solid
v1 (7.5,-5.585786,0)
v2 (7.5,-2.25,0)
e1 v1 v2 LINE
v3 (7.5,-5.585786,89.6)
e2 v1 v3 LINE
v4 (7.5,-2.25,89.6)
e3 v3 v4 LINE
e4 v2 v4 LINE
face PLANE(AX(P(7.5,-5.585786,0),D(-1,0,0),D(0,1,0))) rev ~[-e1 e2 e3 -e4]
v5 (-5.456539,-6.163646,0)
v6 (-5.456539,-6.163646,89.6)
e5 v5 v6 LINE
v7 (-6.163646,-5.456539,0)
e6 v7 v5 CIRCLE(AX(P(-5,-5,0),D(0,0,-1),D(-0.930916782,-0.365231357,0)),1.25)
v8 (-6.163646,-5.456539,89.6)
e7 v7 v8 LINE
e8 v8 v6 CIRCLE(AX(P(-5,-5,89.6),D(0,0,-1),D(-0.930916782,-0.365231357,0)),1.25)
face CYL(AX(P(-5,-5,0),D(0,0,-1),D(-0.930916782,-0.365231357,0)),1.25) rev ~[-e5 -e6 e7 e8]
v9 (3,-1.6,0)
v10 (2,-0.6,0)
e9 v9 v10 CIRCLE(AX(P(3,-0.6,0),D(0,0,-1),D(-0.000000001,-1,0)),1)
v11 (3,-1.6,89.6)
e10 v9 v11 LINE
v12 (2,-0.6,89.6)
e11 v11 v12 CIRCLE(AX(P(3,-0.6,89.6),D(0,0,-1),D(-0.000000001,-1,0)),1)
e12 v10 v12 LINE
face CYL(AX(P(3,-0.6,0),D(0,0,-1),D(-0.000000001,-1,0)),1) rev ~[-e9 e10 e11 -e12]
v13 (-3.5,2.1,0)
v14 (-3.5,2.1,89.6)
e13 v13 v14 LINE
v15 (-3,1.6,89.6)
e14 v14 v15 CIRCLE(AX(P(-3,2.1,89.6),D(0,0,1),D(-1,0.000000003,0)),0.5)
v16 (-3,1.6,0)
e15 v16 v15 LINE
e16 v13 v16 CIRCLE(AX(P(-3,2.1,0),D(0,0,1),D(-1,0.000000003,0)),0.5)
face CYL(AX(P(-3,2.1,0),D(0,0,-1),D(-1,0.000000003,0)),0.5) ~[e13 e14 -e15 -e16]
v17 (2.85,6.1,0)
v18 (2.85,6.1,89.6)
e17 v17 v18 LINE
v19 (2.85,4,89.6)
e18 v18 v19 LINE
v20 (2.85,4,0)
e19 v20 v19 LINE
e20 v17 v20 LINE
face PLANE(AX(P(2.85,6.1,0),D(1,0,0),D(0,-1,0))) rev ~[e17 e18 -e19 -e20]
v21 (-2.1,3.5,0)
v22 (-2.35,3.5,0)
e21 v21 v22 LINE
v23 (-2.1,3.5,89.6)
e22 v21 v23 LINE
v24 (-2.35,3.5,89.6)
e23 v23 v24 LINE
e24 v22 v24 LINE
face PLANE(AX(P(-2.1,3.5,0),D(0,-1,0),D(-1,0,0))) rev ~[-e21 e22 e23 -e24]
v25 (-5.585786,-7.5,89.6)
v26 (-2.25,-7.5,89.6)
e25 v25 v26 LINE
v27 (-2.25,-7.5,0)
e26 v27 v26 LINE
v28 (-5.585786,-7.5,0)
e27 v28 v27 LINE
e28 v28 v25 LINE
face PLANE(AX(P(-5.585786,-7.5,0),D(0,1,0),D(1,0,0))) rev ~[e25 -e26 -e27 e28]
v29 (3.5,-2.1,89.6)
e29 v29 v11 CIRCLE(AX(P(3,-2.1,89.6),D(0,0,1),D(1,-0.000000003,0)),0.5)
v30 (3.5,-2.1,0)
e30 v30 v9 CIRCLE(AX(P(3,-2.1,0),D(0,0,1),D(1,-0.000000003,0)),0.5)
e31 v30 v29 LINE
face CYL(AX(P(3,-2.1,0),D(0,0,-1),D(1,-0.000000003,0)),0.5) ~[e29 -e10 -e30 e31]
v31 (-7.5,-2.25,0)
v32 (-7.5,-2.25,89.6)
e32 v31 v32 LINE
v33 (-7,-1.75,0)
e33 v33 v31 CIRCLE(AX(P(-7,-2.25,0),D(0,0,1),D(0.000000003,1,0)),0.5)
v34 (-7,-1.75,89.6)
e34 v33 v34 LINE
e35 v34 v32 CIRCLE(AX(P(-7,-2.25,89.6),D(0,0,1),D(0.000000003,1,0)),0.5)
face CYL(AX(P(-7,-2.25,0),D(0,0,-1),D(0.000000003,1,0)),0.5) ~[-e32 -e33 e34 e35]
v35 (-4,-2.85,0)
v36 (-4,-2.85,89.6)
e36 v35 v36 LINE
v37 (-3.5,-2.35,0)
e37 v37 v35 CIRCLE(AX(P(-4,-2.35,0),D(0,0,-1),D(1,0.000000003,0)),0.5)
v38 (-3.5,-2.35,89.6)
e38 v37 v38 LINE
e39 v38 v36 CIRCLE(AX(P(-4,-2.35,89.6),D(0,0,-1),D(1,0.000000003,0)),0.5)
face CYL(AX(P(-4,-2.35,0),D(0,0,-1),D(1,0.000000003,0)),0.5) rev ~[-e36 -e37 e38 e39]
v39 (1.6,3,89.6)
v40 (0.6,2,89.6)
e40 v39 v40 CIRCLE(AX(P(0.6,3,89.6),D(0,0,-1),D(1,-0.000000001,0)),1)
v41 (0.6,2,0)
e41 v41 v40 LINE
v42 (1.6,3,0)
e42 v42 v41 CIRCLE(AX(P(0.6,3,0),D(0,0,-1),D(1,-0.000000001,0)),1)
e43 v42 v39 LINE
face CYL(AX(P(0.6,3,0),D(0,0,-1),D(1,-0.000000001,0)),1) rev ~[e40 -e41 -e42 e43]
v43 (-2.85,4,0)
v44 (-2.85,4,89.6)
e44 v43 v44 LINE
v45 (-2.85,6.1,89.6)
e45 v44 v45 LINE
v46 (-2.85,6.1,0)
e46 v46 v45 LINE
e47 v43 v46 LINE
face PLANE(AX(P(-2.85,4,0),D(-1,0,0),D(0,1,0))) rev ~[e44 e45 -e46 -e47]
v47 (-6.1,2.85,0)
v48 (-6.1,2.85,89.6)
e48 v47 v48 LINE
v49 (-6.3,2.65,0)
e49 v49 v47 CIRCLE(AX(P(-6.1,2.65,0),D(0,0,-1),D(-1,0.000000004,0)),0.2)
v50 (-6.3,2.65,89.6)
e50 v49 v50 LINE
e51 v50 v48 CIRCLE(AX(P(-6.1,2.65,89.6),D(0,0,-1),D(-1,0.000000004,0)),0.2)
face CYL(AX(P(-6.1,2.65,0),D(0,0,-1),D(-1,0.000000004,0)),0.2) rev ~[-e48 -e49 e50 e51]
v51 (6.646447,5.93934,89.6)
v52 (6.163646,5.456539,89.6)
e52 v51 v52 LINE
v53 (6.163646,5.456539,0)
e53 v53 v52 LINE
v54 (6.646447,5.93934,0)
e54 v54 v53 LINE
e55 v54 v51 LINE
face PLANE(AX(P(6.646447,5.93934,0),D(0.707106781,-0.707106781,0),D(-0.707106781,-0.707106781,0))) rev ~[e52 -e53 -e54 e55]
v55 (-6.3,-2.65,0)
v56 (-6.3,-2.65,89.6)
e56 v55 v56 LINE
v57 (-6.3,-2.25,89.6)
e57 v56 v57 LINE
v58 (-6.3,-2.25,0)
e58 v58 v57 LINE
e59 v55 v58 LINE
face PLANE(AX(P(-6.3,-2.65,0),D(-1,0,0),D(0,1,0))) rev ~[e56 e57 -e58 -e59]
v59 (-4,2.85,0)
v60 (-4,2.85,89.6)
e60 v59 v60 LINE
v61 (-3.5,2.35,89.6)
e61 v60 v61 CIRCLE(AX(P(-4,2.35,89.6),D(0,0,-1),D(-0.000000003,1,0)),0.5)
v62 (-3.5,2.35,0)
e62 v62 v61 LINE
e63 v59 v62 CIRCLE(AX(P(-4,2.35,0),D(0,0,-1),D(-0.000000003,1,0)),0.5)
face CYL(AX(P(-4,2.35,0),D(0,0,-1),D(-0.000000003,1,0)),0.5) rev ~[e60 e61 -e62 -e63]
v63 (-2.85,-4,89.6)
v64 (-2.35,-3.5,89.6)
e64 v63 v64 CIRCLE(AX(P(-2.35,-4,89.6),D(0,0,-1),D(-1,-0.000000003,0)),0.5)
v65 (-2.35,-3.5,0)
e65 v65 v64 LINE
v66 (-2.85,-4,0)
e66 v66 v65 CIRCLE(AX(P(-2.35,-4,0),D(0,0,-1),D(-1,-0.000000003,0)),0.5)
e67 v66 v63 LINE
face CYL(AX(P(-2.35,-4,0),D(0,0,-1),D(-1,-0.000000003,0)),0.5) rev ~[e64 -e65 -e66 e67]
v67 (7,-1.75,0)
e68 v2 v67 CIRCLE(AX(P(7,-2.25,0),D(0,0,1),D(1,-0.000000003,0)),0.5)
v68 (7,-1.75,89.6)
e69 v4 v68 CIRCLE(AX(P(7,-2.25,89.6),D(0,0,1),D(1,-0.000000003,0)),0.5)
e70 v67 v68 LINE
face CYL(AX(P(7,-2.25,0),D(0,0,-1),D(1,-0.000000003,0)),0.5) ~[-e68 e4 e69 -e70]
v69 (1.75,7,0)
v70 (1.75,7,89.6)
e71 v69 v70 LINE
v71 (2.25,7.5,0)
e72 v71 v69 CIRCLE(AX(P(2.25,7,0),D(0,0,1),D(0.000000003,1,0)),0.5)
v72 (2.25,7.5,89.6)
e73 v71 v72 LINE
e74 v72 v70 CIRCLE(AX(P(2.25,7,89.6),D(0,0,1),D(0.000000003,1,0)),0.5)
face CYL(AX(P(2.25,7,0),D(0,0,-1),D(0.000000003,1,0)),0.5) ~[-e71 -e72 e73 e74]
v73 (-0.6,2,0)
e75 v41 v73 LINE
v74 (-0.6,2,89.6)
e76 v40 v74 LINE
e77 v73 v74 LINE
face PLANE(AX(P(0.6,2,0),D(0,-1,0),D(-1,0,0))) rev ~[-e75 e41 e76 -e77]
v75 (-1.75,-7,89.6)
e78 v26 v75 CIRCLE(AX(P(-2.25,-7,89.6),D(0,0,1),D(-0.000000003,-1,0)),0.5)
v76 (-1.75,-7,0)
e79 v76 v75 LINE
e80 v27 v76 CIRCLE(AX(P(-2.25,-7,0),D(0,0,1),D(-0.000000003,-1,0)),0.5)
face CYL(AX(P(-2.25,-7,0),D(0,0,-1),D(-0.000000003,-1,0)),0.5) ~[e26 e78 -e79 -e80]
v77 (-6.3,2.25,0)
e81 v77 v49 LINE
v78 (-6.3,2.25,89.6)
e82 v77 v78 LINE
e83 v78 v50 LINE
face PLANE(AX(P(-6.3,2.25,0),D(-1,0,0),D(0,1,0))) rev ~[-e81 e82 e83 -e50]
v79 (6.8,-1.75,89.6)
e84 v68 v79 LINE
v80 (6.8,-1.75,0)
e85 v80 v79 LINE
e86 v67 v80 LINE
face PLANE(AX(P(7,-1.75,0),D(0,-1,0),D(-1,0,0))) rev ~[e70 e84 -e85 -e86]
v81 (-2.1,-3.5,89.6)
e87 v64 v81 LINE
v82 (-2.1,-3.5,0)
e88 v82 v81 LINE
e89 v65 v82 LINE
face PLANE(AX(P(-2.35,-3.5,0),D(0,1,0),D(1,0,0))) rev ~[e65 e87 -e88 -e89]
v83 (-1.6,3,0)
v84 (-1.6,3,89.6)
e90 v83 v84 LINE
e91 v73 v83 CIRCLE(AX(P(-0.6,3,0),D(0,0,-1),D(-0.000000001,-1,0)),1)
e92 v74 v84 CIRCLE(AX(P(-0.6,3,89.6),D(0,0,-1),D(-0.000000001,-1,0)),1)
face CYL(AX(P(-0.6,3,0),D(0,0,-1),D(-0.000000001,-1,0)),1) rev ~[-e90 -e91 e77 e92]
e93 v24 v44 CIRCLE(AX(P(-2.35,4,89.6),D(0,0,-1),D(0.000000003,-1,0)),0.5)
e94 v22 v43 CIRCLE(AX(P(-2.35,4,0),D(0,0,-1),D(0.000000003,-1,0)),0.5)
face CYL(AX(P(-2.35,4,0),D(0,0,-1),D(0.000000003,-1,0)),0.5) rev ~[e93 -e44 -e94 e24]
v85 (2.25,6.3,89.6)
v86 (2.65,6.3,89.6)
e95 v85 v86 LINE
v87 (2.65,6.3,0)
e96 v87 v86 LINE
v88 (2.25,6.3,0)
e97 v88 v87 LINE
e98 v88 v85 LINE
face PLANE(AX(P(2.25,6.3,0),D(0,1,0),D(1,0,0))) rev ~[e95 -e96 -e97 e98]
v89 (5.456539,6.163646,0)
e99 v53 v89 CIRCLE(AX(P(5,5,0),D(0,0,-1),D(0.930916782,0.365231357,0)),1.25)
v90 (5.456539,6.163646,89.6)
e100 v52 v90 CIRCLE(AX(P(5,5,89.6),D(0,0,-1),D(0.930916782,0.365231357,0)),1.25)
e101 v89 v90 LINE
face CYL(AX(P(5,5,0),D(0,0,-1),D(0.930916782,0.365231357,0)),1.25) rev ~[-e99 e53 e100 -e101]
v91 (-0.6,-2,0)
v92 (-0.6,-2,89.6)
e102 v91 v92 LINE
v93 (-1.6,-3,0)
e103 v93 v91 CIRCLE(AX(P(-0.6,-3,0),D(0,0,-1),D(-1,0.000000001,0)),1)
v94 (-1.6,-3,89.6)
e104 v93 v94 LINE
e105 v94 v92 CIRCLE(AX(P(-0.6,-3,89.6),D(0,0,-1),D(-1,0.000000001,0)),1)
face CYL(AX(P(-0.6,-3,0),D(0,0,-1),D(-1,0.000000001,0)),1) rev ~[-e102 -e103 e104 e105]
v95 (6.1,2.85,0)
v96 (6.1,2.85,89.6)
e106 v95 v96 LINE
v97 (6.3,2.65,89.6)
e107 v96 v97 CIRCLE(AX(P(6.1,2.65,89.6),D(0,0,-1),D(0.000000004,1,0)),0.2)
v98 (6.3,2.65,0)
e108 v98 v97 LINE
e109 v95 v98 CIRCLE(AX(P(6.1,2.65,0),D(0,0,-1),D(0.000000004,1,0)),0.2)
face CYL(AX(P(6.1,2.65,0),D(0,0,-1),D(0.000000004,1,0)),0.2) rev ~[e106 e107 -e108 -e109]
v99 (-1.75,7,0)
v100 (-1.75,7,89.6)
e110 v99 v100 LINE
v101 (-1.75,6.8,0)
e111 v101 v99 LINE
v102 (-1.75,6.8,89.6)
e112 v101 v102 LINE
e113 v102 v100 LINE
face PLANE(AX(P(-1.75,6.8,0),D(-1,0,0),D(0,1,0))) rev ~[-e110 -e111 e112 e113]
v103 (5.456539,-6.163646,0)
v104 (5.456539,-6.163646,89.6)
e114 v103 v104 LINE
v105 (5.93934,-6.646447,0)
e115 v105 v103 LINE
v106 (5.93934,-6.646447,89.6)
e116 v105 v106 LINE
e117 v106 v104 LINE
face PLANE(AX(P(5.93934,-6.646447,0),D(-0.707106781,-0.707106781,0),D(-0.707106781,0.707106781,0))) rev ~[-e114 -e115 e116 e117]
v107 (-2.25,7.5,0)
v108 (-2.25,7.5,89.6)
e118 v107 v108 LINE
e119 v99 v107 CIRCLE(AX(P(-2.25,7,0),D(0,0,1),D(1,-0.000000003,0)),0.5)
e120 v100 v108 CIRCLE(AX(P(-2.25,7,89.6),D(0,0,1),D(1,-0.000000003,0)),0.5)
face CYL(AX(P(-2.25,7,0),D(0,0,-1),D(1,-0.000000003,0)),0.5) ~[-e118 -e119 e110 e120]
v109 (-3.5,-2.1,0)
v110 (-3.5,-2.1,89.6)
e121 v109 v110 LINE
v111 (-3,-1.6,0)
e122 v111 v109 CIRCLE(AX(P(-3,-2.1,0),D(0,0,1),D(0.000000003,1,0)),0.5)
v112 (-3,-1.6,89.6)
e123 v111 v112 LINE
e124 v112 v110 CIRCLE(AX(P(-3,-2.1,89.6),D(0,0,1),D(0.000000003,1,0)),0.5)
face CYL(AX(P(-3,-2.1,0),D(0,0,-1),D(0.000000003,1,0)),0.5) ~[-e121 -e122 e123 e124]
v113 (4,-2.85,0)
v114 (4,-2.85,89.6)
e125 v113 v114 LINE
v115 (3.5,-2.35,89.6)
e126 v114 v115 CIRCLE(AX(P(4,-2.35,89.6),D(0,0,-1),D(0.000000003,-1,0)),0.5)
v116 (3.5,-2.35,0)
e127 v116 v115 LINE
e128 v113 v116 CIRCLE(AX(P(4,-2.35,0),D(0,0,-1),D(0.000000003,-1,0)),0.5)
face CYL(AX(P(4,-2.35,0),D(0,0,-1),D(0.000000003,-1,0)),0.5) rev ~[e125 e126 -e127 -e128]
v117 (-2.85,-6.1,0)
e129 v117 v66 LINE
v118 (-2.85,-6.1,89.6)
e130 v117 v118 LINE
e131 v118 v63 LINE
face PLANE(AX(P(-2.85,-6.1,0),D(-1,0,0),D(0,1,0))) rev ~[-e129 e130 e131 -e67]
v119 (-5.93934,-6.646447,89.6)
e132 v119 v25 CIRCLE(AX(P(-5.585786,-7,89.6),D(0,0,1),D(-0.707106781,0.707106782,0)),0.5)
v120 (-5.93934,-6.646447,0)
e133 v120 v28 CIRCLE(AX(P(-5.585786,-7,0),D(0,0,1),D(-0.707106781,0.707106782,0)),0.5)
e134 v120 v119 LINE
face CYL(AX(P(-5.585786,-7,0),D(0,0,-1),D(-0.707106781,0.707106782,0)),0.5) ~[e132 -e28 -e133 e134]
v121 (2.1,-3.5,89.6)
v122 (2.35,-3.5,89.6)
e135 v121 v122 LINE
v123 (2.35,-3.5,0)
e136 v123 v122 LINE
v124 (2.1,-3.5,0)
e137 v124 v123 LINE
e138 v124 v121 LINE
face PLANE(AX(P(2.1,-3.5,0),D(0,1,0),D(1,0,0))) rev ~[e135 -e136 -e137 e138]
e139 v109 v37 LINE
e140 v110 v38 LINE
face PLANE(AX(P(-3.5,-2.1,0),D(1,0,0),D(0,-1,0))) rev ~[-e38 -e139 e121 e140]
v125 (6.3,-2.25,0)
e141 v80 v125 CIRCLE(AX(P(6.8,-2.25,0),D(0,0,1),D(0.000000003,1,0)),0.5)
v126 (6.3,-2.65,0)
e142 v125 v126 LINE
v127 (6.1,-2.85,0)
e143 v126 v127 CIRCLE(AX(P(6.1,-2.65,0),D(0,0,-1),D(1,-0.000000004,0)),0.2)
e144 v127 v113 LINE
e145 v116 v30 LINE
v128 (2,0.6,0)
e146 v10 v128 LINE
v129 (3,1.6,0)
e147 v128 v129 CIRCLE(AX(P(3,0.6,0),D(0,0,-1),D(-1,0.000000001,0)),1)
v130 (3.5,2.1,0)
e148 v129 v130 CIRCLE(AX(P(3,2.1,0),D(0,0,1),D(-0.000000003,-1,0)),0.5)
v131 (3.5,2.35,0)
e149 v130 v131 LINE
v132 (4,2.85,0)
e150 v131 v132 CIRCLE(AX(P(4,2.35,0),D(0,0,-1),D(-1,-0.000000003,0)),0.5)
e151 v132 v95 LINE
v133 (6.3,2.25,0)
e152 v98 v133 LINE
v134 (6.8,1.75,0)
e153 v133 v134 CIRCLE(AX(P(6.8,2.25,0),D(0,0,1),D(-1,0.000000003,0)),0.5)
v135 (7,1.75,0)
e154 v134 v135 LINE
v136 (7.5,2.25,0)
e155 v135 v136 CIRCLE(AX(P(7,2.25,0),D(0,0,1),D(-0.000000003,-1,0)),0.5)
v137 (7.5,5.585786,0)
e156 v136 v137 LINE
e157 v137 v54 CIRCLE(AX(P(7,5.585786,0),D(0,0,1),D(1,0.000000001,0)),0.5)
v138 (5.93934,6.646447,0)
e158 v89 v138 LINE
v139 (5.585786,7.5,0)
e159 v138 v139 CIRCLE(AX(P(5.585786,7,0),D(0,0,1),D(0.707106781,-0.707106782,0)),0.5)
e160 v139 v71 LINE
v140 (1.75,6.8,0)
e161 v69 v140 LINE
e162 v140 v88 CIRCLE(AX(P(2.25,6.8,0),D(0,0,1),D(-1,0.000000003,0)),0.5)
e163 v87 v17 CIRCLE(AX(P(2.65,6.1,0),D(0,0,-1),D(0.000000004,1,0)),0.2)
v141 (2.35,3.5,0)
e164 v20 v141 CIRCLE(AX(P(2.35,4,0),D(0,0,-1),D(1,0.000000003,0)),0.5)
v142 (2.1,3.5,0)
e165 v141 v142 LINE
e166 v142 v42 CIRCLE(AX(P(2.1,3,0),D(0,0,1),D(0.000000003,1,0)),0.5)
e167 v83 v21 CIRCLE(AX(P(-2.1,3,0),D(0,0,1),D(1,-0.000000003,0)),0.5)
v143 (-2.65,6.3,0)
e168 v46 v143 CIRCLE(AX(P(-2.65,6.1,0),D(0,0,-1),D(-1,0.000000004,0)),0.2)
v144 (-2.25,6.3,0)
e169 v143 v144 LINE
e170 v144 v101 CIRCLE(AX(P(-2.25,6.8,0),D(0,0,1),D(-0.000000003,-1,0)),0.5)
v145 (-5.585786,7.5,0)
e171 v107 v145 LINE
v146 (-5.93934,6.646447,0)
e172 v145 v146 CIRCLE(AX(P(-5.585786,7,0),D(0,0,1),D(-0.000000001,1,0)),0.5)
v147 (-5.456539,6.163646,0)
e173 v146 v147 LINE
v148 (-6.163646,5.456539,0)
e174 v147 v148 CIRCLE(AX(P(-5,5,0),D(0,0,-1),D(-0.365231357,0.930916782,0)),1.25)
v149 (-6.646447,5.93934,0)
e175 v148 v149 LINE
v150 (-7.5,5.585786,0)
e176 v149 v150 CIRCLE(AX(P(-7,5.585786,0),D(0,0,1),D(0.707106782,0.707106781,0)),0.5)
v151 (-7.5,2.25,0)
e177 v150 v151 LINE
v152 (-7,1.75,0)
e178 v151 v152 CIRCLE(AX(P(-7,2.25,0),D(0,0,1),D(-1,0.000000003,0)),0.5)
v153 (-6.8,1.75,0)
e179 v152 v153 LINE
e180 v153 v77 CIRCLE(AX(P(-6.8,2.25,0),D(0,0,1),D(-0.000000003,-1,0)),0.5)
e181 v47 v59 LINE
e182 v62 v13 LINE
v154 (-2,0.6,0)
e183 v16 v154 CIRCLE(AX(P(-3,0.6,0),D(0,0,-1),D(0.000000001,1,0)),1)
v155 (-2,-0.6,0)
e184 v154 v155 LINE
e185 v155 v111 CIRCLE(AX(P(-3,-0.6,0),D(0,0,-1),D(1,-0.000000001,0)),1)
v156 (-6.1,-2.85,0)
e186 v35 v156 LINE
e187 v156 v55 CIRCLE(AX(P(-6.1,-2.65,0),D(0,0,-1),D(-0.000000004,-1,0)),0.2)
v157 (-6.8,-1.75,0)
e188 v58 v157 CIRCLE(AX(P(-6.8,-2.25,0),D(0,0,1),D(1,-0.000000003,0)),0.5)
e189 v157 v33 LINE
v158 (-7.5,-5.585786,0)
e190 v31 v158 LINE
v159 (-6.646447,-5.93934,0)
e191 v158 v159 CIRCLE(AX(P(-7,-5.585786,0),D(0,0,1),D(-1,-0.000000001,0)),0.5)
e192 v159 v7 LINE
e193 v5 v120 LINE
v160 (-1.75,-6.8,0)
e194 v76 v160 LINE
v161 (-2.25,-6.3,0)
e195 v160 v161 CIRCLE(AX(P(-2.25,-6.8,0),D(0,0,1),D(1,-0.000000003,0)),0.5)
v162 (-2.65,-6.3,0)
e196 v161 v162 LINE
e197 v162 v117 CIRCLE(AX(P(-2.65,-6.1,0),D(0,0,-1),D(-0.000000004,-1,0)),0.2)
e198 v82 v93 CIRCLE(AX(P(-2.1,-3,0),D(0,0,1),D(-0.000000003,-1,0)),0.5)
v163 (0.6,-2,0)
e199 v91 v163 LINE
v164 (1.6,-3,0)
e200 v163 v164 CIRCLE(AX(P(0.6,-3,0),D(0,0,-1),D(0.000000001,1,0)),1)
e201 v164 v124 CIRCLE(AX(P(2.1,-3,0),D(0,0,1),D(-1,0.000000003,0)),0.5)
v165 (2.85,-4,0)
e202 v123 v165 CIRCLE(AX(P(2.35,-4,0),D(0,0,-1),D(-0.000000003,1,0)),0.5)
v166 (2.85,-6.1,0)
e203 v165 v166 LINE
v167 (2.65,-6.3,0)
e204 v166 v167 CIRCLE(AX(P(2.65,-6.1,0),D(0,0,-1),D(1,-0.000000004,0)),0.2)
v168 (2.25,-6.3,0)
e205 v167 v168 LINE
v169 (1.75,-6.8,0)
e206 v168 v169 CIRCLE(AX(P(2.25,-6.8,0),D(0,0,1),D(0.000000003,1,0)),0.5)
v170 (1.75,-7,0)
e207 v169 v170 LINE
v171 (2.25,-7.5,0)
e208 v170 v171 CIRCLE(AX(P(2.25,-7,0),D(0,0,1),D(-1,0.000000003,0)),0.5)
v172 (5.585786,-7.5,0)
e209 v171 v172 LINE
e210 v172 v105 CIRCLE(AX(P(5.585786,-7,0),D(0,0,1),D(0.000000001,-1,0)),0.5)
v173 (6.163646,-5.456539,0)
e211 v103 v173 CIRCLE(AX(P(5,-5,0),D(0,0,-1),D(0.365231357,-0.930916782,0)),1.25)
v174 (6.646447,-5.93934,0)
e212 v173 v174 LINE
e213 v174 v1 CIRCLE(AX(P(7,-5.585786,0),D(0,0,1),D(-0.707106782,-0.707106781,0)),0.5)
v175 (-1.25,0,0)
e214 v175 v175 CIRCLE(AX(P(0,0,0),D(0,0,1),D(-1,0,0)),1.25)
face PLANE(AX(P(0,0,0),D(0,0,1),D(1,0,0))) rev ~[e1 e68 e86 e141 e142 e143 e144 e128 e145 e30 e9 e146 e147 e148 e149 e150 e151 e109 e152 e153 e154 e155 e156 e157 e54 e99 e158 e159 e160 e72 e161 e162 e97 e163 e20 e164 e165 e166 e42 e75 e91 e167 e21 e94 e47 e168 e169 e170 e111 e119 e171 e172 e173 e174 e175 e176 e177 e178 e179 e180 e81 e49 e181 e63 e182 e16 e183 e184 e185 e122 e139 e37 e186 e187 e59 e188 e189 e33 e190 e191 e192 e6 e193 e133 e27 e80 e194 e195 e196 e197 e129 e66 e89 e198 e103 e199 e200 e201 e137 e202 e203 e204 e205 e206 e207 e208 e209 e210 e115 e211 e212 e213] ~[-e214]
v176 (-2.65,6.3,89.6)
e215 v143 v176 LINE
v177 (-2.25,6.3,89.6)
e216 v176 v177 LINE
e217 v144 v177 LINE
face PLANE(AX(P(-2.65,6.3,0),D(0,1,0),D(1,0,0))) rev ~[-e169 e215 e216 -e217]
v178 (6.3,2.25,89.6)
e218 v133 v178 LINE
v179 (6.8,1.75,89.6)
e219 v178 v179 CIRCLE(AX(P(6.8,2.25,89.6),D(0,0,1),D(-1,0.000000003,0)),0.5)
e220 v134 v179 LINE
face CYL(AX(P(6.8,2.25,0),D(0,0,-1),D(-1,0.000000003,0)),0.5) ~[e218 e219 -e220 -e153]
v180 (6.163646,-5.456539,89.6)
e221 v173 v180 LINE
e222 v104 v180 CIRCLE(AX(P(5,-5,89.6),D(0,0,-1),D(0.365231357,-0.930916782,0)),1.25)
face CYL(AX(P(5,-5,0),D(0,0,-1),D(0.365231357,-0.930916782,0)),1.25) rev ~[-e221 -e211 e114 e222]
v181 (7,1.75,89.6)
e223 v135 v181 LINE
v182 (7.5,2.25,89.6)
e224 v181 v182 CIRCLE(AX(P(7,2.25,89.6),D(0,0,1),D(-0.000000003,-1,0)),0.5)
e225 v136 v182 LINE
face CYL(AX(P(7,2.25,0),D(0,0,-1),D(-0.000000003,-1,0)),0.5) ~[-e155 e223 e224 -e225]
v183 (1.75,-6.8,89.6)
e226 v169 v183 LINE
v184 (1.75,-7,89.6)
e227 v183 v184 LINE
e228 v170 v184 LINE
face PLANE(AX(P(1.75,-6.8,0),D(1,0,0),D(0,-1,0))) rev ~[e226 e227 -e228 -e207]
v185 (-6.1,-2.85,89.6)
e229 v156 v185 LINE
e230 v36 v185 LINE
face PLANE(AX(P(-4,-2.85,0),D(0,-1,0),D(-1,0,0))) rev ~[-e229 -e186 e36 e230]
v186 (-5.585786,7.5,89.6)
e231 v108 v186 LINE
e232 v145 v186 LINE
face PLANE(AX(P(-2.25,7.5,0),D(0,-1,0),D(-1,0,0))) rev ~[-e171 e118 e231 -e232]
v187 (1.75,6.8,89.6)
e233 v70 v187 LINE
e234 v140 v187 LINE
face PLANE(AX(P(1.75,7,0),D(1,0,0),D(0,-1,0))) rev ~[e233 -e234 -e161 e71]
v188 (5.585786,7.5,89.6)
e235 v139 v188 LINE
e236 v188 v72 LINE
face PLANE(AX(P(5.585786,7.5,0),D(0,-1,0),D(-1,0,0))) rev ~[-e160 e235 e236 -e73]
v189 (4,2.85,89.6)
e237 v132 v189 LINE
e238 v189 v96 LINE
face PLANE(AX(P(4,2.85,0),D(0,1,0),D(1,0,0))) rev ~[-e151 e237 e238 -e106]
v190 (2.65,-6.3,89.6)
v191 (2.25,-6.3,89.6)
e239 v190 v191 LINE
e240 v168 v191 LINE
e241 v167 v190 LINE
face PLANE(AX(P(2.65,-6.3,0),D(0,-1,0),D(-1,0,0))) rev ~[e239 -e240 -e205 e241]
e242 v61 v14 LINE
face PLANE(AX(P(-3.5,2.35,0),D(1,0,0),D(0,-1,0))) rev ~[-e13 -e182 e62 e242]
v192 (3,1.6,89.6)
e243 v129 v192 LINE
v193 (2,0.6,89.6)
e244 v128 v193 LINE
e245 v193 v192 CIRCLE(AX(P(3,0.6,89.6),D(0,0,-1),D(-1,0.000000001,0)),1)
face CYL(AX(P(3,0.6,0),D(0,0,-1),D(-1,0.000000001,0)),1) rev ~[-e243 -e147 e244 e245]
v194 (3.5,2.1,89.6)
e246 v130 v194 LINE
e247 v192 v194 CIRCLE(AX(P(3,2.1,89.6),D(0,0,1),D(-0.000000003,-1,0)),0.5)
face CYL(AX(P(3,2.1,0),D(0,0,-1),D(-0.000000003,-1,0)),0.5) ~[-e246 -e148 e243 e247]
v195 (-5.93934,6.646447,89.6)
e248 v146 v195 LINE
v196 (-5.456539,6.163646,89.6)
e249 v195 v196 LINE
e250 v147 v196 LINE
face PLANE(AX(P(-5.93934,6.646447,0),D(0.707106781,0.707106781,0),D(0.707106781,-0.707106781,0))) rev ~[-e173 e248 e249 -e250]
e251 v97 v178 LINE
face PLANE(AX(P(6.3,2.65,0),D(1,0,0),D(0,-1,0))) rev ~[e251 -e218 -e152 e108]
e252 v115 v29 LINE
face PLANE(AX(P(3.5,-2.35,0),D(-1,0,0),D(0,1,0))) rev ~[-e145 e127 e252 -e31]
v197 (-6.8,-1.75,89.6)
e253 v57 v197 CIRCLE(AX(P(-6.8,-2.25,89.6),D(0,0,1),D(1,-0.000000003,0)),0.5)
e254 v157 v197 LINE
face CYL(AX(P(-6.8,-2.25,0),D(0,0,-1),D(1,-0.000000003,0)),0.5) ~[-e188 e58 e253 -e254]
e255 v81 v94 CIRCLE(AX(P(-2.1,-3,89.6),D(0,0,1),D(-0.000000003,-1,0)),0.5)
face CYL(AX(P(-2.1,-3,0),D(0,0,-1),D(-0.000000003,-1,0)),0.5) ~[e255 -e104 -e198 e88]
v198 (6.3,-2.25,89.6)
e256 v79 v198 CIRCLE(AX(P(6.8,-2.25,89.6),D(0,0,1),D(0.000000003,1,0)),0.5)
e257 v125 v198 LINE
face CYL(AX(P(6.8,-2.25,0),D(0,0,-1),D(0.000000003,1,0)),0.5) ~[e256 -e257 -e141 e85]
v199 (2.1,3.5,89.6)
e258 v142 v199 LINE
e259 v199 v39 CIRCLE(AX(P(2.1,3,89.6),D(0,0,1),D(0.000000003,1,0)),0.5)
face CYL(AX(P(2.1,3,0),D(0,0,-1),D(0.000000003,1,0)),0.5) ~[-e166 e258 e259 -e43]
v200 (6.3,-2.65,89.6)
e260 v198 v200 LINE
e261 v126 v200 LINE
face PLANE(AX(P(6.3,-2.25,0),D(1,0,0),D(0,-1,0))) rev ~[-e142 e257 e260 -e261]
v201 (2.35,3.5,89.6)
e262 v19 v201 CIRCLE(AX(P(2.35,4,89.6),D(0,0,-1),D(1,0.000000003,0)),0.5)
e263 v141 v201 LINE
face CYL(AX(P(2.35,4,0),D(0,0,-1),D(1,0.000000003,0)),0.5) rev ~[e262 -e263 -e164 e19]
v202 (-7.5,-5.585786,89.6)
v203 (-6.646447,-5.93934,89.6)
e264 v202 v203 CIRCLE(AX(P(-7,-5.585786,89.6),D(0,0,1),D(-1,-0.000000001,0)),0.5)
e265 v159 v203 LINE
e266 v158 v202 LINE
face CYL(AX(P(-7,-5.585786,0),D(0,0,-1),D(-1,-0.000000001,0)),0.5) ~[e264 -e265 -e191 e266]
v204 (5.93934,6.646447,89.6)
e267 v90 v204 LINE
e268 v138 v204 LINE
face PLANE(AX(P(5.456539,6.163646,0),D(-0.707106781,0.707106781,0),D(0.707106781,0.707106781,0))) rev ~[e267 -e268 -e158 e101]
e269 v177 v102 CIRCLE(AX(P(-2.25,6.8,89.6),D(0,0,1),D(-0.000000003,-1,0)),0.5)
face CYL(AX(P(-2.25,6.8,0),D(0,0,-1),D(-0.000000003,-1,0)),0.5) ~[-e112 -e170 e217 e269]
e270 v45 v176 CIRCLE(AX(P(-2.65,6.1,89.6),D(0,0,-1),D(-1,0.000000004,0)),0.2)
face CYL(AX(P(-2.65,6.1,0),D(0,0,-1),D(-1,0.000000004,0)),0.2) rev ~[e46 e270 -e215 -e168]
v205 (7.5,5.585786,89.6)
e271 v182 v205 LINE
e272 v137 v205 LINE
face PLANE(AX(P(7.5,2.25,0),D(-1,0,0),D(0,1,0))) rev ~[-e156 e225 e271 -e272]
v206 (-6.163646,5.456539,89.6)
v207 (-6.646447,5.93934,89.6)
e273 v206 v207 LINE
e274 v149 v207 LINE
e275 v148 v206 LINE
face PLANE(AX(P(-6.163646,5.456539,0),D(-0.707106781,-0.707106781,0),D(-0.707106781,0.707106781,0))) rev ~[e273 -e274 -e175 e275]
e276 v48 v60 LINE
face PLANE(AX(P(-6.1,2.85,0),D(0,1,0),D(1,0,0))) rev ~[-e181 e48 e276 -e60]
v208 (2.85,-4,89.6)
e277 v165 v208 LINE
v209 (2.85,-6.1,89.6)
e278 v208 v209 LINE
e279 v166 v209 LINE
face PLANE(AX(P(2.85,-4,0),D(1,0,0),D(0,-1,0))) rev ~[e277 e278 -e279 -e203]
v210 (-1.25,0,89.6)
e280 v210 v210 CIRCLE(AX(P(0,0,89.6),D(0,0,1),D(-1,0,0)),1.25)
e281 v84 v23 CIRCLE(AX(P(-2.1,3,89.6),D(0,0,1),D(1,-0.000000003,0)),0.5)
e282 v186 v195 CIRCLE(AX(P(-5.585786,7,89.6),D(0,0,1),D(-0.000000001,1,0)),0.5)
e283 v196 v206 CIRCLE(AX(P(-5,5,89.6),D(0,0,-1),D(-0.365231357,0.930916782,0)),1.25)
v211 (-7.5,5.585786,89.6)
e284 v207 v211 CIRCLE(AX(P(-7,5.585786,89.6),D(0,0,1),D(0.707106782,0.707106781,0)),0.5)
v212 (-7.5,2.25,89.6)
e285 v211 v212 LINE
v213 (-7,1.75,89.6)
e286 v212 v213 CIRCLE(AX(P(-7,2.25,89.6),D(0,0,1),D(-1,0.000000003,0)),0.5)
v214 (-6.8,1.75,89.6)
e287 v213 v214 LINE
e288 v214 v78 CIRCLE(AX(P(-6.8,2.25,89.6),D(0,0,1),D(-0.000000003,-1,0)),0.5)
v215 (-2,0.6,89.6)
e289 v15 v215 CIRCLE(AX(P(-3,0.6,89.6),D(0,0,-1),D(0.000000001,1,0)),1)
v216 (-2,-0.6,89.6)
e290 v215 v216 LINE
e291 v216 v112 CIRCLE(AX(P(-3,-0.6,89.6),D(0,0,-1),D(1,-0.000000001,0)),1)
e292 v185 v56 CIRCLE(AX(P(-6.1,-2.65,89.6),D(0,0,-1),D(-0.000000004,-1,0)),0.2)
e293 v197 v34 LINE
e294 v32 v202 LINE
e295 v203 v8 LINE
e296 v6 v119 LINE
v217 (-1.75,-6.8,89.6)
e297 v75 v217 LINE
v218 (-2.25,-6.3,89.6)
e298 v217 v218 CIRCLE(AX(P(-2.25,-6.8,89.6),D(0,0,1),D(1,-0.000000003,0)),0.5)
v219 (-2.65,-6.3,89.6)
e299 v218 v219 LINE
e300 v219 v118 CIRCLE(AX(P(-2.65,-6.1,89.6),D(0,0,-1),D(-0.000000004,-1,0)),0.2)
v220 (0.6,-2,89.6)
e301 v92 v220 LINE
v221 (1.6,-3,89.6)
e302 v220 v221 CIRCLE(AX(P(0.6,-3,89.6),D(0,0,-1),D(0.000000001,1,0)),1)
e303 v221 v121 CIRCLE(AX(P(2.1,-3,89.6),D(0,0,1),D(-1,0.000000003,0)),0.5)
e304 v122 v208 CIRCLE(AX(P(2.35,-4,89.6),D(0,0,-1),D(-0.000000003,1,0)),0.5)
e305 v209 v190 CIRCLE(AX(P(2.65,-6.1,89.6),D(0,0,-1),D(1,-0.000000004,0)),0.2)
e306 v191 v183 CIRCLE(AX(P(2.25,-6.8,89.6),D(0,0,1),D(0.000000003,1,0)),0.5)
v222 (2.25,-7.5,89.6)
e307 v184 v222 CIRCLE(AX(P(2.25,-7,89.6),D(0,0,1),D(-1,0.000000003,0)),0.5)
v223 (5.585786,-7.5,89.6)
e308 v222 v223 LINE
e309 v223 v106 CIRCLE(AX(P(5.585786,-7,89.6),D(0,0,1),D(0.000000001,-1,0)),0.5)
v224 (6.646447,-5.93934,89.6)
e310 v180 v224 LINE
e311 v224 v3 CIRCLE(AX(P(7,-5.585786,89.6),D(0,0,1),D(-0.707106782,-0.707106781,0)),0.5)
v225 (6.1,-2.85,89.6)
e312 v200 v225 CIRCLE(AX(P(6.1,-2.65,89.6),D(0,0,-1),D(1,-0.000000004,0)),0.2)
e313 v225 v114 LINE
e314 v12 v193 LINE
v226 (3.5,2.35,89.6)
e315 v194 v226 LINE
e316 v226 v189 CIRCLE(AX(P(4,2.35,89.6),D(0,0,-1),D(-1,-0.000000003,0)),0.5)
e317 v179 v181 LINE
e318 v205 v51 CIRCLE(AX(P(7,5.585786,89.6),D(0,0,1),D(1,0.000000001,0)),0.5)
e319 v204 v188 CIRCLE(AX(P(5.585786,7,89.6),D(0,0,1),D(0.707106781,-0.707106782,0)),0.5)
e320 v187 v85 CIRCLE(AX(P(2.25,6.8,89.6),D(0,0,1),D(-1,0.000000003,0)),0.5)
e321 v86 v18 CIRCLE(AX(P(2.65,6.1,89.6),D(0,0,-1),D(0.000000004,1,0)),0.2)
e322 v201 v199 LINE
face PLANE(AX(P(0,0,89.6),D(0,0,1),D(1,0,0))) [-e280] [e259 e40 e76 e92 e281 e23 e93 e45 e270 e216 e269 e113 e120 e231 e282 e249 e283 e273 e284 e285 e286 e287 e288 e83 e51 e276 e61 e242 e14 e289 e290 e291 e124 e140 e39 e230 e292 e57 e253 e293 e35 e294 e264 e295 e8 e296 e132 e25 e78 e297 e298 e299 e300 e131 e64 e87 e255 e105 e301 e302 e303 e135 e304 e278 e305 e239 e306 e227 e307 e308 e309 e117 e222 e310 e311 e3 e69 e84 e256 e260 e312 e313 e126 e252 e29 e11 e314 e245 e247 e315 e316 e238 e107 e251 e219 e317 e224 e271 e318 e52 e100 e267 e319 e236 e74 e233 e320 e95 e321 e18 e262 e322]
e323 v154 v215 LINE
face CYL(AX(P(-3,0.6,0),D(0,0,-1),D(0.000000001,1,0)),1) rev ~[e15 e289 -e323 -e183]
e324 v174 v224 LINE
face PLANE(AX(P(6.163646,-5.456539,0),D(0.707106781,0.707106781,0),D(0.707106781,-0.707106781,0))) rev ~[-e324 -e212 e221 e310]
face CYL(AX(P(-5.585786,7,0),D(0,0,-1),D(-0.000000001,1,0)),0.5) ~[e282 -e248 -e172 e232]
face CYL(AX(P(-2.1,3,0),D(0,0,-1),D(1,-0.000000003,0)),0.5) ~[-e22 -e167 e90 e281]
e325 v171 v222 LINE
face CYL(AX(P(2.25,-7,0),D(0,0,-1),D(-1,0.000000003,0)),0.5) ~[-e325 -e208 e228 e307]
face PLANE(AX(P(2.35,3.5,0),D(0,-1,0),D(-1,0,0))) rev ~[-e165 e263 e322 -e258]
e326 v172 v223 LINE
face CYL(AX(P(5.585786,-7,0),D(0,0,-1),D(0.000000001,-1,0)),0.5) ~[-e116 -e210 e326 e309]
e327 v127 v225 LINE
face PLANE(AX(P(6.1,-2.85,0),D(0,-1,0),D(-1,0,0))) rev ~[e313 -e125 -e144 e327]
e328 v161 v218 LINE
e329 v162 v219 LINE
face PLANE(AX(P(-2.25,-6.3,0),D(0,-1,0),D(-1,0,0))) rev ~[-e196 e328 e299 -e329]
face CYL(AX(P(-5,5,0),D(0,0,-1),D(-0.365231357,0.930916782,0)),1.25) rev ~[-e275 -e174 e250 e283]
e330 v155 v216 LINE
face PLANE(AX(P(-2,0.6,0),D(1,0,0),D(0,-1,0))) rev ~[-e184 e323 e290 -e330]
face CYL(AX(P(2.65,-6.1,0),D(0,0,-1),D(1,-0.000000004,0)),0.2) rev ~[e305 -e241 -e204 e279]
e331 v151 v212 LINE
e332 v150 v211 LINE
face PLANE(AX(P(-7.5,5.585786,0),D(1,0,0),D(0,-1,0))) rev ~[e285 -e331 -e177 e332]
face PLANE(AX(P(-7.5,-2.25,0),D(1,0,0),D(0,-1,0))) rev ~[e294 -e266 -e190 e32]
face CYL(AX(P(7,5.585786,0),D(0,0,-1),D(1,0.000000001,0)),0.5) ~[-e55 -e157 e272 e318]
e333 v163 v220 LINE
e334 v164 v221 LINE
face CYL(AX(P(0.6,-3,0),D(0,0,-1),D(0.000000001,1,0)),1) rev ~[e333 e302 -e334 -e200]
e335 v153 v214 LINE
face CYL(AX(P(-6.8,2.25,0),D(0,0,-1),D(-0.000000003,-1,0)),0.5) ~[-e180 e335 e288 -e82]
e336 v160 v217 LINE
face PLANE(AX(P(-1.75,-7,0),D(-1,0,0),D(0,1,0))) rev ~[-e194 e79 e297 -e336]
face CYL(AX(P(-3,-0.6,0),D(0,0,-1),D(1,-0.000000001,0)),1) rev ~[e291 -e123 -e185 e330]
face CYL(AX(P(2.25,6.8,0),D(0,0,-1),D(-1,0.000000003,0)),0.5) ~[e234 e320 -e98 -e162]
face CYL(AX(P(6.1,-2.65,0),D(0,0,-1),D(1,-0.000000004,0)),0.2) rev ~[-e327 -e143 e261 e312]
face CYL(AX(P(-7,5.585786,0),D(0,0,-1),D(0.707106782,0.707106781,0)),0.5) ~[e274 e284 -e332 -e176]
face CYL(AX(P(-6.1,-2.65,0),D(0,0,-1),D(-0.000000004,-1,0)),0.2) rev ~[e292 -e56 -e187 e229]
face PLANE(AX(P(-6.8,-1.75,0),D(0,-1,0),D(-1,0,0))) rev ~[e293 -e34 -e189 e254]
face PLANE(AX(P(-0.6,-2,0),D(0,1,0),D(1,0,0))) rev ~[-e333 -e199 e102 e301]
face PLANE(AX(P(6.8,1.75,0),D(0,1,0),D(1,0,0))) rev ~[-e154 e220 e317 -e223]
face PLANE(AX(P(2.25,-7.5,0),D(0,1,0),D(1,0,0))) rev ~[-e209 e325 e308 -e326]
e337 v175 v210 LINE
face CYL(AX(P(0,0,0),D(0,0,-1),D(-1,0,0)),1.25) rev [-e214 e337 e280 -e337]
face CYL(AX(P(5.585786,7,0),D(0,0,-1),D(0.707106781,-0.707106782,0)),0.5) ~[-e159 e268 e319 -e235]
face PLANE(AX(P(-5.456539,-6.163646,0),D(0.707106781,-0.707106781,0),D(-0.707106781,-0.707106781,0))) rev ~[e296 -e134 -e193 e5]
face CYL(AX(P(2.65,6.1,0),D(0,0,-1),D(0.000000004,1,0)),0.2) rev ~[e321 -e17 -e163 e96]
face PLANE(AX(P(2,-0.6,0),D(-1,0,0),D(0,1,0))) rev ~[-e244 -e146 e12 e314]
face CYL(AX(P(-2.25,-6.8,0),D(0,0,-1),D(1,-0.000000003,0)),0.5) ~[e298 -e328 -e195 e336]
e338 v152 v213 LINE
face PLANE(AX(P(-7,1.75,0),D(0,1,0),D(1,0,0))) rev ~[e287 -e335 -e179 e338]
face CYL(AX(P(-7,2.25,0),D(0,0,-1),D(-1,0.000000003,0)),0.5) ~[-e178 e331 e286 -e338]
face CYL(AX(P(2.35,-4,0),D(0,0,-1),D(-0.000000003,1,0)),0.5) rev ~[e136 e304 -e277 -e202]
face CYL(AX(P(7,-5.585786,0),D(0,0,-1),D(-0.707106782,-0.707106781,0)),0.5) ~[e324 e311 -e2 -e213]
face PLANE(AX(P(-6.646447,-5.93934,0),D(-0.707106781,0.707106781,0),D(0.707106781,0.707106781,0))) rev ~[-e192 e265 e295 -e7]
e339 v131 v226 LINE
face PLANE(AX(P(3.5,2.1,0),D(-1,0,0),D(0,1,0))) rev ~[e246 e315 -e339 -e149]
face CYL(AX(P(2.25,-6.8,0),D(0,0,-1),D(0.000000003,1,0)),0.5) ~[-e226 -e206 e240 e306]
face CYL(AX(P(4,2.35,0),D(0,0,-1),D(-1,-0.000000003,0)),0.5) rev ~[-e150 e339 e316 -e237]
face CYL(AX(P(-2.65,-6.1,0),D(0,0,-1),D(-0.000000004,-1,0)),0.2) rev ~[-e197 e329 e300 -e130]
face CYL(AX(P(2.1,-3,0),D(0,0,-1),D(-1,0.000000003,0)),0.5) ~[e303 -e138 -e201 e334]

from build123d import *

# Parameters (mm, degrees)
SKETCH1_R           = 1.25
BOSS_EXTRUDE1_DEPTH = 89.6


with BuildPart() as part:
    # Sketch1 → Boss-Extrude1 (new body)
    with BuildSketch(Plane.XY):
        with BuildLine():
            Line((6.646446609, 5.939339828), (6.163645978, 5.456539197))
            ThreePointArc((6.163645978, 5.456539197), (4.116116524, 4.116116524), (5.456539197, 6.163645978))
            Line((5.456539197, 6.163645978), (5.939339828, 6.646446609))
            ThreePointArc((5.939339828, 6.646446609), (6.047726204, 7.191341716), (5.585786438, 7.5))
            Line((5.585786438, 7.5), (2.25, 7.5))
            ThreePointArc((2.25, 7.5), (1.896446609, 7.353553391), (1.75, 7))
            Line((1.75, 7), (1.75, 6.8))
            ThreePointArc((1.75, 6.8), (1.896446609, 6.446446609), (2.25, 6.3))
            Line((2.25, 6.3), (2.65, 6.3))
            ThreePointArc((2.65, 6.3), (2.791421356, 6.241421356), (2.85, 6.1))
            Line((2.85, 6.1), (2.85, 4))
            ThreePointArc((2.85, 4), (2.703553391, 3.646446609), (2.35, 3.5))
            Line((2.35, 3.5), (2.1, 3.5))
            ThreePointArc((2.1, 3.5), (1.746446609, 3.353553391), (1.6, 3))
            ThreePointArc((1.6, 3), (1.307106781, 2.292893219), (0.6, 2))
            Line((0.6, 2), (-0.6, 2))
            ThreePointArc((-0.6, 2), (-1.307106781, 2.292893219), (-1.6, 3))
            ThreePointArc((-1.6, 3), (-1.746446609, 3.353553391), (-2.1, 3.5))
            Line((-2.1, 3.5), (-2.35, 3.5))
            ThreePointArc((-2.35, 3.5), (-2.703553391, 3.646446609), (-2.85, 4))
            Line((-2.85, 4), (-2.85, 6.1))
            ThreePointArc((-2.85, 6.1), (-2.791421356, 6.241421356), (-2.65, 6.3))
            Line((-2.65, 6.3), (-2.25, 6.3))
            ThreePointArc((-2.25, 6.3), (-1.896446609, 6.446446609), (-1.75, 6.8))
            Line((-1.75, 6.8), (-1.75, 7))
            ThreePointArc((-1.75, 7), (-1.896446609, 7.353553391), (-2.25, 7.5))
            Line((-2.25, 7.5), (-5.585786438, 7.5))
            ThreePointArc((-5.585786438, 7.5), (-6.047726204, 7.191341716), (-5.939339828, 6.646446609))
            Line((-5.939339828, 6.646446609), (-5.456539197, 6.163645978))
            ThreePointArc((-5.456539197, 6.163645978), (-4.116116524, 4.116116524), (-6.163645978, 5.456539197))
            Line((-6.163645978, 5.456539197), (-6.646446609, 5.939339828))
            ThreePointArc((-6.646446609, 5.939339828), (-7.191341716, 6.047726204), (-7.5, 5.585786438))
            Line((-7.5, 5.585786438), (-7.5, 2.25))
            ThreePointArc((-7.5, 2.25), (-7.353553391, 1.896446609), (-7, 1.75))
            Line((-7, 1.75), (-6.8, 1.75))
            ThreePointArc((-6.8, 1.75), (-6.446446609, 1.896446609), (-6.3, 2.25))
            Line((-6.3, 2.25), (-6.3, 2.65))
            ThreePointArc((-6.3, 2.65), (-6.241421356, 2.791421356), (-6.1, 2.85))
            Line((-6.1, 2.85), (-4, 2.85))
            ThreePointArc((-4, 2.85), (-3.646446609, 2.703553391), (-3.5, 2.35))
            Line((-3.5, 2.35), (-3.5, 2.1))
            ThreePointArc((-3.5, 2.1), (-3.353553391, 1.746446609), (-3, 1.6))
            ThreePointArc((-3, 1.6), (-2.292893219, 1.307106781), (-2, 0.6))
            Line((-2, 0.6), (-2, -0.6))
            ThreePointArc((-2, -0.6), (-2.292893219, -1.307106781), (-3, -1.6))
            ThreePointArc((-3, -1.6), (-3.353553391, -1.746446609), (-3.5, -2.1))
            Line((-3.5, -2.1), (-3.5, -2.35))
            ThreePointArc((-3.5, -2.35), (-3.646446609, -2.703553391), (-4, -2.85))
            Line((-4, -2.85), (-6.1, -2.85))
            ThreePointArc((-6.1, -2.85), (-6.241421356, -2.791421356), (-6.3, -2.65))
            Line((-6.3, -2.65), (-6.3, -2.25))
            ThreePointArc((-6.3, -2.25), (-6.446446609, -1.896446609), (-6.8, -1.75))
            Line((-6.8, -1.75), (-7, -1.75))
            ThreePointArc((-7, -1.75), (-7.353553391, -1.896446609), (-7.5, -2.25))
            Line((-7.5, -2.25), (-7.5, -5.585786438))
            ThreePointArc((-7.5, -5.585786438), (-7.191341716, -6.047726204), (-6.646446609, -5.939339828))
            Line((-6.646446609, -5.939339828), (-6.163645978, -5.456539197))
            ThreePointArc((-6.163645978, -5.456539197), (-4.116116524, -4.116116524), (-5.456539197, -6.163645978))
            Line((-5.456539197, -6.163645978), (-5.939339828, -6.646446609))
            ThreePointArc((-5.939339828, -6.646446609), (-6.047726204, -7.191341716), (-5.585786438, -7.5))
            Line((-5.585786438, -7.5), (-2.25, -7.5))
            ThreePointArc((-2.25, -7.5), (-1.896446609, -7.353553391), (-1.75, -7))
            Line((-1.75, -7), (-1.75, -6.8))
            ThreePointArc((-1.75, -6.8), (-1.896446609, -6.446446609), (-2.25, -6.3))
            Line((-2.25, -6.3), (-2.65, -6.3))
            ThreePointArc((-2.65, -6.3), (-2.791421356, -6.241421356), (-2.85, -6.1))
            Line((-2.85, -6.1), (-2.85, -4))
            ThreePointArc((-2.85, -4), (-2.703553391, -3.646446609), (-2.35, -3.5))
            Line((-2.35, -3.5), (-2.1, -3.5))
            ThreePointArc((-2.1, -3.5), (-1.746446609, -3.353553391), (-1.6, -3))
            ThreePointArc((-1.6, -3), (-1.307106781, -2.292893219), (-0.6, -2))
            Line((-0.6, -2), (0.6, -2))
            ThreePointArc((0.6, -2), (1.307106781, -2.292893219), (1.6, -3))
            ThreePointArc((1.6, -3), (1.746446609, -3.353553391), (2.1, -3.5))
            Line((2.1, -3.5), (2.35, -3.5))
            ThreePointArc((2.35, -3.5), (2.703553391, -3.646446609), (2.85, -4))
            Line((2.85, -4), (2.85, -6.1))
            ThreePointArc((2.85, -6.1), (2.791421356, -6.241421356), (2.65, -6.3))
            Line((2.65, -6.3), (2.25, -6.3))
            ThreePointArc((2.25, -6.3), (1.896446609, -6.446446609), (1.75, -6.8))
            Line((1.75, -6.8), (1.75, -7))
            ThreePointArc((1.75, -7), (1.896446609, -7.353553391), (2.25, -7.5))
            Line((2.25, -7.5), (5.585786438, -7.5))
            ThreePointArc((5.585786438, -7.5), (6.047726204, -7.191341716), (5.939339828, -6.646446609))
            Line((5.939339828, -6.646446609), (5.456539197, -6.163645978))
            ThreePointArc((5.456539197, -6.163645978), (4.116116524, -4.116116524), (6.163645978, -5.456539197))
            Line((6.163645978, -5.456539197), (6.646446609, -5.939339828))
            ThreePointArc((6.646446609, -5.939339828), (7.191341716, -6.047726204), (7.5, -5.585786438))
            Line((7.5, -5.585786438), (7.5, -2.25))
            ThreePointArc((7.5, -2.25), (7.353553391, -1.896446609), (7, -1.75))
            Line((7, -1.75), (6.8, -1.75))
            ThreePointArc((6.8, -1.75), (6.446446609, -1.896446609), (6.3, -2.25))
            Line((6.3, -2.25), (6.3, -2.65))
            ThreePointArc((6.3, -2.65), (6.241421356, -2.791421356), (6.1, -2.85))
            Line((6.1, -2.85), (4, -2.85))
            ThreePointArc((4, -2.85), (3.646446609, -2.703553391), (3.5, -2.35))
            Line((3.5, -2.35), (3.5, -2.1))
            ThreePointArc((3.5, -2.1), (3.353553391, -1.746446609), (3, -1.6))
            ThreePointArc((3, -1.6), (2.292893219, -1.307106781), (2, -0.6))
            Line((2, -0.6), (2, 0.6))
            ThreePointArc((2, 0.6), (2.292893219, 1.307106781), (3, 1.6))
            ThreePointArc((3, 1.6), (3.353553391, 1.746446609), (3.5, 2.1))
            Line((3.5, 2.1), (3.5, 2.35))
            ThreePointArc((3.5, 2.35), (3.646446609, 2.703553391), (4, 2.85))
            Line((4, 2.85), (6.1, 2.85))
            ThreePointArc((6.1, 2.85), (6.241421356, 2.791421356), (6.3, 2.65))
            Line((6.3, 2.65), (6.3, 2.25))
            ThreePointArc((6.3, 2.25), (6.446446609, 1.896446609), (6.8, 1.75))
            Line((6.8, 1.75), (7, 1.75))
            ThreePointArc((7, 1.75), (7.353553391, 1.896446609), (7.5, 2.25))
            Line((7.5, 2.25), (7.5, 5.585786438))
            ThreePointArc((7.5, 5.585786438), (7.191341716, 6.047726204), (6.646446609, 5.939339828))
        make_face()
        with Locations(Location((0, 0, 0), (0, 0, 180))):
            Circle(SKETCH1_R, mode=Mode.SUBTRACT)
    extrude(amount=BOSS_EXTRUDE1_DEPTH)


solid = part.part
